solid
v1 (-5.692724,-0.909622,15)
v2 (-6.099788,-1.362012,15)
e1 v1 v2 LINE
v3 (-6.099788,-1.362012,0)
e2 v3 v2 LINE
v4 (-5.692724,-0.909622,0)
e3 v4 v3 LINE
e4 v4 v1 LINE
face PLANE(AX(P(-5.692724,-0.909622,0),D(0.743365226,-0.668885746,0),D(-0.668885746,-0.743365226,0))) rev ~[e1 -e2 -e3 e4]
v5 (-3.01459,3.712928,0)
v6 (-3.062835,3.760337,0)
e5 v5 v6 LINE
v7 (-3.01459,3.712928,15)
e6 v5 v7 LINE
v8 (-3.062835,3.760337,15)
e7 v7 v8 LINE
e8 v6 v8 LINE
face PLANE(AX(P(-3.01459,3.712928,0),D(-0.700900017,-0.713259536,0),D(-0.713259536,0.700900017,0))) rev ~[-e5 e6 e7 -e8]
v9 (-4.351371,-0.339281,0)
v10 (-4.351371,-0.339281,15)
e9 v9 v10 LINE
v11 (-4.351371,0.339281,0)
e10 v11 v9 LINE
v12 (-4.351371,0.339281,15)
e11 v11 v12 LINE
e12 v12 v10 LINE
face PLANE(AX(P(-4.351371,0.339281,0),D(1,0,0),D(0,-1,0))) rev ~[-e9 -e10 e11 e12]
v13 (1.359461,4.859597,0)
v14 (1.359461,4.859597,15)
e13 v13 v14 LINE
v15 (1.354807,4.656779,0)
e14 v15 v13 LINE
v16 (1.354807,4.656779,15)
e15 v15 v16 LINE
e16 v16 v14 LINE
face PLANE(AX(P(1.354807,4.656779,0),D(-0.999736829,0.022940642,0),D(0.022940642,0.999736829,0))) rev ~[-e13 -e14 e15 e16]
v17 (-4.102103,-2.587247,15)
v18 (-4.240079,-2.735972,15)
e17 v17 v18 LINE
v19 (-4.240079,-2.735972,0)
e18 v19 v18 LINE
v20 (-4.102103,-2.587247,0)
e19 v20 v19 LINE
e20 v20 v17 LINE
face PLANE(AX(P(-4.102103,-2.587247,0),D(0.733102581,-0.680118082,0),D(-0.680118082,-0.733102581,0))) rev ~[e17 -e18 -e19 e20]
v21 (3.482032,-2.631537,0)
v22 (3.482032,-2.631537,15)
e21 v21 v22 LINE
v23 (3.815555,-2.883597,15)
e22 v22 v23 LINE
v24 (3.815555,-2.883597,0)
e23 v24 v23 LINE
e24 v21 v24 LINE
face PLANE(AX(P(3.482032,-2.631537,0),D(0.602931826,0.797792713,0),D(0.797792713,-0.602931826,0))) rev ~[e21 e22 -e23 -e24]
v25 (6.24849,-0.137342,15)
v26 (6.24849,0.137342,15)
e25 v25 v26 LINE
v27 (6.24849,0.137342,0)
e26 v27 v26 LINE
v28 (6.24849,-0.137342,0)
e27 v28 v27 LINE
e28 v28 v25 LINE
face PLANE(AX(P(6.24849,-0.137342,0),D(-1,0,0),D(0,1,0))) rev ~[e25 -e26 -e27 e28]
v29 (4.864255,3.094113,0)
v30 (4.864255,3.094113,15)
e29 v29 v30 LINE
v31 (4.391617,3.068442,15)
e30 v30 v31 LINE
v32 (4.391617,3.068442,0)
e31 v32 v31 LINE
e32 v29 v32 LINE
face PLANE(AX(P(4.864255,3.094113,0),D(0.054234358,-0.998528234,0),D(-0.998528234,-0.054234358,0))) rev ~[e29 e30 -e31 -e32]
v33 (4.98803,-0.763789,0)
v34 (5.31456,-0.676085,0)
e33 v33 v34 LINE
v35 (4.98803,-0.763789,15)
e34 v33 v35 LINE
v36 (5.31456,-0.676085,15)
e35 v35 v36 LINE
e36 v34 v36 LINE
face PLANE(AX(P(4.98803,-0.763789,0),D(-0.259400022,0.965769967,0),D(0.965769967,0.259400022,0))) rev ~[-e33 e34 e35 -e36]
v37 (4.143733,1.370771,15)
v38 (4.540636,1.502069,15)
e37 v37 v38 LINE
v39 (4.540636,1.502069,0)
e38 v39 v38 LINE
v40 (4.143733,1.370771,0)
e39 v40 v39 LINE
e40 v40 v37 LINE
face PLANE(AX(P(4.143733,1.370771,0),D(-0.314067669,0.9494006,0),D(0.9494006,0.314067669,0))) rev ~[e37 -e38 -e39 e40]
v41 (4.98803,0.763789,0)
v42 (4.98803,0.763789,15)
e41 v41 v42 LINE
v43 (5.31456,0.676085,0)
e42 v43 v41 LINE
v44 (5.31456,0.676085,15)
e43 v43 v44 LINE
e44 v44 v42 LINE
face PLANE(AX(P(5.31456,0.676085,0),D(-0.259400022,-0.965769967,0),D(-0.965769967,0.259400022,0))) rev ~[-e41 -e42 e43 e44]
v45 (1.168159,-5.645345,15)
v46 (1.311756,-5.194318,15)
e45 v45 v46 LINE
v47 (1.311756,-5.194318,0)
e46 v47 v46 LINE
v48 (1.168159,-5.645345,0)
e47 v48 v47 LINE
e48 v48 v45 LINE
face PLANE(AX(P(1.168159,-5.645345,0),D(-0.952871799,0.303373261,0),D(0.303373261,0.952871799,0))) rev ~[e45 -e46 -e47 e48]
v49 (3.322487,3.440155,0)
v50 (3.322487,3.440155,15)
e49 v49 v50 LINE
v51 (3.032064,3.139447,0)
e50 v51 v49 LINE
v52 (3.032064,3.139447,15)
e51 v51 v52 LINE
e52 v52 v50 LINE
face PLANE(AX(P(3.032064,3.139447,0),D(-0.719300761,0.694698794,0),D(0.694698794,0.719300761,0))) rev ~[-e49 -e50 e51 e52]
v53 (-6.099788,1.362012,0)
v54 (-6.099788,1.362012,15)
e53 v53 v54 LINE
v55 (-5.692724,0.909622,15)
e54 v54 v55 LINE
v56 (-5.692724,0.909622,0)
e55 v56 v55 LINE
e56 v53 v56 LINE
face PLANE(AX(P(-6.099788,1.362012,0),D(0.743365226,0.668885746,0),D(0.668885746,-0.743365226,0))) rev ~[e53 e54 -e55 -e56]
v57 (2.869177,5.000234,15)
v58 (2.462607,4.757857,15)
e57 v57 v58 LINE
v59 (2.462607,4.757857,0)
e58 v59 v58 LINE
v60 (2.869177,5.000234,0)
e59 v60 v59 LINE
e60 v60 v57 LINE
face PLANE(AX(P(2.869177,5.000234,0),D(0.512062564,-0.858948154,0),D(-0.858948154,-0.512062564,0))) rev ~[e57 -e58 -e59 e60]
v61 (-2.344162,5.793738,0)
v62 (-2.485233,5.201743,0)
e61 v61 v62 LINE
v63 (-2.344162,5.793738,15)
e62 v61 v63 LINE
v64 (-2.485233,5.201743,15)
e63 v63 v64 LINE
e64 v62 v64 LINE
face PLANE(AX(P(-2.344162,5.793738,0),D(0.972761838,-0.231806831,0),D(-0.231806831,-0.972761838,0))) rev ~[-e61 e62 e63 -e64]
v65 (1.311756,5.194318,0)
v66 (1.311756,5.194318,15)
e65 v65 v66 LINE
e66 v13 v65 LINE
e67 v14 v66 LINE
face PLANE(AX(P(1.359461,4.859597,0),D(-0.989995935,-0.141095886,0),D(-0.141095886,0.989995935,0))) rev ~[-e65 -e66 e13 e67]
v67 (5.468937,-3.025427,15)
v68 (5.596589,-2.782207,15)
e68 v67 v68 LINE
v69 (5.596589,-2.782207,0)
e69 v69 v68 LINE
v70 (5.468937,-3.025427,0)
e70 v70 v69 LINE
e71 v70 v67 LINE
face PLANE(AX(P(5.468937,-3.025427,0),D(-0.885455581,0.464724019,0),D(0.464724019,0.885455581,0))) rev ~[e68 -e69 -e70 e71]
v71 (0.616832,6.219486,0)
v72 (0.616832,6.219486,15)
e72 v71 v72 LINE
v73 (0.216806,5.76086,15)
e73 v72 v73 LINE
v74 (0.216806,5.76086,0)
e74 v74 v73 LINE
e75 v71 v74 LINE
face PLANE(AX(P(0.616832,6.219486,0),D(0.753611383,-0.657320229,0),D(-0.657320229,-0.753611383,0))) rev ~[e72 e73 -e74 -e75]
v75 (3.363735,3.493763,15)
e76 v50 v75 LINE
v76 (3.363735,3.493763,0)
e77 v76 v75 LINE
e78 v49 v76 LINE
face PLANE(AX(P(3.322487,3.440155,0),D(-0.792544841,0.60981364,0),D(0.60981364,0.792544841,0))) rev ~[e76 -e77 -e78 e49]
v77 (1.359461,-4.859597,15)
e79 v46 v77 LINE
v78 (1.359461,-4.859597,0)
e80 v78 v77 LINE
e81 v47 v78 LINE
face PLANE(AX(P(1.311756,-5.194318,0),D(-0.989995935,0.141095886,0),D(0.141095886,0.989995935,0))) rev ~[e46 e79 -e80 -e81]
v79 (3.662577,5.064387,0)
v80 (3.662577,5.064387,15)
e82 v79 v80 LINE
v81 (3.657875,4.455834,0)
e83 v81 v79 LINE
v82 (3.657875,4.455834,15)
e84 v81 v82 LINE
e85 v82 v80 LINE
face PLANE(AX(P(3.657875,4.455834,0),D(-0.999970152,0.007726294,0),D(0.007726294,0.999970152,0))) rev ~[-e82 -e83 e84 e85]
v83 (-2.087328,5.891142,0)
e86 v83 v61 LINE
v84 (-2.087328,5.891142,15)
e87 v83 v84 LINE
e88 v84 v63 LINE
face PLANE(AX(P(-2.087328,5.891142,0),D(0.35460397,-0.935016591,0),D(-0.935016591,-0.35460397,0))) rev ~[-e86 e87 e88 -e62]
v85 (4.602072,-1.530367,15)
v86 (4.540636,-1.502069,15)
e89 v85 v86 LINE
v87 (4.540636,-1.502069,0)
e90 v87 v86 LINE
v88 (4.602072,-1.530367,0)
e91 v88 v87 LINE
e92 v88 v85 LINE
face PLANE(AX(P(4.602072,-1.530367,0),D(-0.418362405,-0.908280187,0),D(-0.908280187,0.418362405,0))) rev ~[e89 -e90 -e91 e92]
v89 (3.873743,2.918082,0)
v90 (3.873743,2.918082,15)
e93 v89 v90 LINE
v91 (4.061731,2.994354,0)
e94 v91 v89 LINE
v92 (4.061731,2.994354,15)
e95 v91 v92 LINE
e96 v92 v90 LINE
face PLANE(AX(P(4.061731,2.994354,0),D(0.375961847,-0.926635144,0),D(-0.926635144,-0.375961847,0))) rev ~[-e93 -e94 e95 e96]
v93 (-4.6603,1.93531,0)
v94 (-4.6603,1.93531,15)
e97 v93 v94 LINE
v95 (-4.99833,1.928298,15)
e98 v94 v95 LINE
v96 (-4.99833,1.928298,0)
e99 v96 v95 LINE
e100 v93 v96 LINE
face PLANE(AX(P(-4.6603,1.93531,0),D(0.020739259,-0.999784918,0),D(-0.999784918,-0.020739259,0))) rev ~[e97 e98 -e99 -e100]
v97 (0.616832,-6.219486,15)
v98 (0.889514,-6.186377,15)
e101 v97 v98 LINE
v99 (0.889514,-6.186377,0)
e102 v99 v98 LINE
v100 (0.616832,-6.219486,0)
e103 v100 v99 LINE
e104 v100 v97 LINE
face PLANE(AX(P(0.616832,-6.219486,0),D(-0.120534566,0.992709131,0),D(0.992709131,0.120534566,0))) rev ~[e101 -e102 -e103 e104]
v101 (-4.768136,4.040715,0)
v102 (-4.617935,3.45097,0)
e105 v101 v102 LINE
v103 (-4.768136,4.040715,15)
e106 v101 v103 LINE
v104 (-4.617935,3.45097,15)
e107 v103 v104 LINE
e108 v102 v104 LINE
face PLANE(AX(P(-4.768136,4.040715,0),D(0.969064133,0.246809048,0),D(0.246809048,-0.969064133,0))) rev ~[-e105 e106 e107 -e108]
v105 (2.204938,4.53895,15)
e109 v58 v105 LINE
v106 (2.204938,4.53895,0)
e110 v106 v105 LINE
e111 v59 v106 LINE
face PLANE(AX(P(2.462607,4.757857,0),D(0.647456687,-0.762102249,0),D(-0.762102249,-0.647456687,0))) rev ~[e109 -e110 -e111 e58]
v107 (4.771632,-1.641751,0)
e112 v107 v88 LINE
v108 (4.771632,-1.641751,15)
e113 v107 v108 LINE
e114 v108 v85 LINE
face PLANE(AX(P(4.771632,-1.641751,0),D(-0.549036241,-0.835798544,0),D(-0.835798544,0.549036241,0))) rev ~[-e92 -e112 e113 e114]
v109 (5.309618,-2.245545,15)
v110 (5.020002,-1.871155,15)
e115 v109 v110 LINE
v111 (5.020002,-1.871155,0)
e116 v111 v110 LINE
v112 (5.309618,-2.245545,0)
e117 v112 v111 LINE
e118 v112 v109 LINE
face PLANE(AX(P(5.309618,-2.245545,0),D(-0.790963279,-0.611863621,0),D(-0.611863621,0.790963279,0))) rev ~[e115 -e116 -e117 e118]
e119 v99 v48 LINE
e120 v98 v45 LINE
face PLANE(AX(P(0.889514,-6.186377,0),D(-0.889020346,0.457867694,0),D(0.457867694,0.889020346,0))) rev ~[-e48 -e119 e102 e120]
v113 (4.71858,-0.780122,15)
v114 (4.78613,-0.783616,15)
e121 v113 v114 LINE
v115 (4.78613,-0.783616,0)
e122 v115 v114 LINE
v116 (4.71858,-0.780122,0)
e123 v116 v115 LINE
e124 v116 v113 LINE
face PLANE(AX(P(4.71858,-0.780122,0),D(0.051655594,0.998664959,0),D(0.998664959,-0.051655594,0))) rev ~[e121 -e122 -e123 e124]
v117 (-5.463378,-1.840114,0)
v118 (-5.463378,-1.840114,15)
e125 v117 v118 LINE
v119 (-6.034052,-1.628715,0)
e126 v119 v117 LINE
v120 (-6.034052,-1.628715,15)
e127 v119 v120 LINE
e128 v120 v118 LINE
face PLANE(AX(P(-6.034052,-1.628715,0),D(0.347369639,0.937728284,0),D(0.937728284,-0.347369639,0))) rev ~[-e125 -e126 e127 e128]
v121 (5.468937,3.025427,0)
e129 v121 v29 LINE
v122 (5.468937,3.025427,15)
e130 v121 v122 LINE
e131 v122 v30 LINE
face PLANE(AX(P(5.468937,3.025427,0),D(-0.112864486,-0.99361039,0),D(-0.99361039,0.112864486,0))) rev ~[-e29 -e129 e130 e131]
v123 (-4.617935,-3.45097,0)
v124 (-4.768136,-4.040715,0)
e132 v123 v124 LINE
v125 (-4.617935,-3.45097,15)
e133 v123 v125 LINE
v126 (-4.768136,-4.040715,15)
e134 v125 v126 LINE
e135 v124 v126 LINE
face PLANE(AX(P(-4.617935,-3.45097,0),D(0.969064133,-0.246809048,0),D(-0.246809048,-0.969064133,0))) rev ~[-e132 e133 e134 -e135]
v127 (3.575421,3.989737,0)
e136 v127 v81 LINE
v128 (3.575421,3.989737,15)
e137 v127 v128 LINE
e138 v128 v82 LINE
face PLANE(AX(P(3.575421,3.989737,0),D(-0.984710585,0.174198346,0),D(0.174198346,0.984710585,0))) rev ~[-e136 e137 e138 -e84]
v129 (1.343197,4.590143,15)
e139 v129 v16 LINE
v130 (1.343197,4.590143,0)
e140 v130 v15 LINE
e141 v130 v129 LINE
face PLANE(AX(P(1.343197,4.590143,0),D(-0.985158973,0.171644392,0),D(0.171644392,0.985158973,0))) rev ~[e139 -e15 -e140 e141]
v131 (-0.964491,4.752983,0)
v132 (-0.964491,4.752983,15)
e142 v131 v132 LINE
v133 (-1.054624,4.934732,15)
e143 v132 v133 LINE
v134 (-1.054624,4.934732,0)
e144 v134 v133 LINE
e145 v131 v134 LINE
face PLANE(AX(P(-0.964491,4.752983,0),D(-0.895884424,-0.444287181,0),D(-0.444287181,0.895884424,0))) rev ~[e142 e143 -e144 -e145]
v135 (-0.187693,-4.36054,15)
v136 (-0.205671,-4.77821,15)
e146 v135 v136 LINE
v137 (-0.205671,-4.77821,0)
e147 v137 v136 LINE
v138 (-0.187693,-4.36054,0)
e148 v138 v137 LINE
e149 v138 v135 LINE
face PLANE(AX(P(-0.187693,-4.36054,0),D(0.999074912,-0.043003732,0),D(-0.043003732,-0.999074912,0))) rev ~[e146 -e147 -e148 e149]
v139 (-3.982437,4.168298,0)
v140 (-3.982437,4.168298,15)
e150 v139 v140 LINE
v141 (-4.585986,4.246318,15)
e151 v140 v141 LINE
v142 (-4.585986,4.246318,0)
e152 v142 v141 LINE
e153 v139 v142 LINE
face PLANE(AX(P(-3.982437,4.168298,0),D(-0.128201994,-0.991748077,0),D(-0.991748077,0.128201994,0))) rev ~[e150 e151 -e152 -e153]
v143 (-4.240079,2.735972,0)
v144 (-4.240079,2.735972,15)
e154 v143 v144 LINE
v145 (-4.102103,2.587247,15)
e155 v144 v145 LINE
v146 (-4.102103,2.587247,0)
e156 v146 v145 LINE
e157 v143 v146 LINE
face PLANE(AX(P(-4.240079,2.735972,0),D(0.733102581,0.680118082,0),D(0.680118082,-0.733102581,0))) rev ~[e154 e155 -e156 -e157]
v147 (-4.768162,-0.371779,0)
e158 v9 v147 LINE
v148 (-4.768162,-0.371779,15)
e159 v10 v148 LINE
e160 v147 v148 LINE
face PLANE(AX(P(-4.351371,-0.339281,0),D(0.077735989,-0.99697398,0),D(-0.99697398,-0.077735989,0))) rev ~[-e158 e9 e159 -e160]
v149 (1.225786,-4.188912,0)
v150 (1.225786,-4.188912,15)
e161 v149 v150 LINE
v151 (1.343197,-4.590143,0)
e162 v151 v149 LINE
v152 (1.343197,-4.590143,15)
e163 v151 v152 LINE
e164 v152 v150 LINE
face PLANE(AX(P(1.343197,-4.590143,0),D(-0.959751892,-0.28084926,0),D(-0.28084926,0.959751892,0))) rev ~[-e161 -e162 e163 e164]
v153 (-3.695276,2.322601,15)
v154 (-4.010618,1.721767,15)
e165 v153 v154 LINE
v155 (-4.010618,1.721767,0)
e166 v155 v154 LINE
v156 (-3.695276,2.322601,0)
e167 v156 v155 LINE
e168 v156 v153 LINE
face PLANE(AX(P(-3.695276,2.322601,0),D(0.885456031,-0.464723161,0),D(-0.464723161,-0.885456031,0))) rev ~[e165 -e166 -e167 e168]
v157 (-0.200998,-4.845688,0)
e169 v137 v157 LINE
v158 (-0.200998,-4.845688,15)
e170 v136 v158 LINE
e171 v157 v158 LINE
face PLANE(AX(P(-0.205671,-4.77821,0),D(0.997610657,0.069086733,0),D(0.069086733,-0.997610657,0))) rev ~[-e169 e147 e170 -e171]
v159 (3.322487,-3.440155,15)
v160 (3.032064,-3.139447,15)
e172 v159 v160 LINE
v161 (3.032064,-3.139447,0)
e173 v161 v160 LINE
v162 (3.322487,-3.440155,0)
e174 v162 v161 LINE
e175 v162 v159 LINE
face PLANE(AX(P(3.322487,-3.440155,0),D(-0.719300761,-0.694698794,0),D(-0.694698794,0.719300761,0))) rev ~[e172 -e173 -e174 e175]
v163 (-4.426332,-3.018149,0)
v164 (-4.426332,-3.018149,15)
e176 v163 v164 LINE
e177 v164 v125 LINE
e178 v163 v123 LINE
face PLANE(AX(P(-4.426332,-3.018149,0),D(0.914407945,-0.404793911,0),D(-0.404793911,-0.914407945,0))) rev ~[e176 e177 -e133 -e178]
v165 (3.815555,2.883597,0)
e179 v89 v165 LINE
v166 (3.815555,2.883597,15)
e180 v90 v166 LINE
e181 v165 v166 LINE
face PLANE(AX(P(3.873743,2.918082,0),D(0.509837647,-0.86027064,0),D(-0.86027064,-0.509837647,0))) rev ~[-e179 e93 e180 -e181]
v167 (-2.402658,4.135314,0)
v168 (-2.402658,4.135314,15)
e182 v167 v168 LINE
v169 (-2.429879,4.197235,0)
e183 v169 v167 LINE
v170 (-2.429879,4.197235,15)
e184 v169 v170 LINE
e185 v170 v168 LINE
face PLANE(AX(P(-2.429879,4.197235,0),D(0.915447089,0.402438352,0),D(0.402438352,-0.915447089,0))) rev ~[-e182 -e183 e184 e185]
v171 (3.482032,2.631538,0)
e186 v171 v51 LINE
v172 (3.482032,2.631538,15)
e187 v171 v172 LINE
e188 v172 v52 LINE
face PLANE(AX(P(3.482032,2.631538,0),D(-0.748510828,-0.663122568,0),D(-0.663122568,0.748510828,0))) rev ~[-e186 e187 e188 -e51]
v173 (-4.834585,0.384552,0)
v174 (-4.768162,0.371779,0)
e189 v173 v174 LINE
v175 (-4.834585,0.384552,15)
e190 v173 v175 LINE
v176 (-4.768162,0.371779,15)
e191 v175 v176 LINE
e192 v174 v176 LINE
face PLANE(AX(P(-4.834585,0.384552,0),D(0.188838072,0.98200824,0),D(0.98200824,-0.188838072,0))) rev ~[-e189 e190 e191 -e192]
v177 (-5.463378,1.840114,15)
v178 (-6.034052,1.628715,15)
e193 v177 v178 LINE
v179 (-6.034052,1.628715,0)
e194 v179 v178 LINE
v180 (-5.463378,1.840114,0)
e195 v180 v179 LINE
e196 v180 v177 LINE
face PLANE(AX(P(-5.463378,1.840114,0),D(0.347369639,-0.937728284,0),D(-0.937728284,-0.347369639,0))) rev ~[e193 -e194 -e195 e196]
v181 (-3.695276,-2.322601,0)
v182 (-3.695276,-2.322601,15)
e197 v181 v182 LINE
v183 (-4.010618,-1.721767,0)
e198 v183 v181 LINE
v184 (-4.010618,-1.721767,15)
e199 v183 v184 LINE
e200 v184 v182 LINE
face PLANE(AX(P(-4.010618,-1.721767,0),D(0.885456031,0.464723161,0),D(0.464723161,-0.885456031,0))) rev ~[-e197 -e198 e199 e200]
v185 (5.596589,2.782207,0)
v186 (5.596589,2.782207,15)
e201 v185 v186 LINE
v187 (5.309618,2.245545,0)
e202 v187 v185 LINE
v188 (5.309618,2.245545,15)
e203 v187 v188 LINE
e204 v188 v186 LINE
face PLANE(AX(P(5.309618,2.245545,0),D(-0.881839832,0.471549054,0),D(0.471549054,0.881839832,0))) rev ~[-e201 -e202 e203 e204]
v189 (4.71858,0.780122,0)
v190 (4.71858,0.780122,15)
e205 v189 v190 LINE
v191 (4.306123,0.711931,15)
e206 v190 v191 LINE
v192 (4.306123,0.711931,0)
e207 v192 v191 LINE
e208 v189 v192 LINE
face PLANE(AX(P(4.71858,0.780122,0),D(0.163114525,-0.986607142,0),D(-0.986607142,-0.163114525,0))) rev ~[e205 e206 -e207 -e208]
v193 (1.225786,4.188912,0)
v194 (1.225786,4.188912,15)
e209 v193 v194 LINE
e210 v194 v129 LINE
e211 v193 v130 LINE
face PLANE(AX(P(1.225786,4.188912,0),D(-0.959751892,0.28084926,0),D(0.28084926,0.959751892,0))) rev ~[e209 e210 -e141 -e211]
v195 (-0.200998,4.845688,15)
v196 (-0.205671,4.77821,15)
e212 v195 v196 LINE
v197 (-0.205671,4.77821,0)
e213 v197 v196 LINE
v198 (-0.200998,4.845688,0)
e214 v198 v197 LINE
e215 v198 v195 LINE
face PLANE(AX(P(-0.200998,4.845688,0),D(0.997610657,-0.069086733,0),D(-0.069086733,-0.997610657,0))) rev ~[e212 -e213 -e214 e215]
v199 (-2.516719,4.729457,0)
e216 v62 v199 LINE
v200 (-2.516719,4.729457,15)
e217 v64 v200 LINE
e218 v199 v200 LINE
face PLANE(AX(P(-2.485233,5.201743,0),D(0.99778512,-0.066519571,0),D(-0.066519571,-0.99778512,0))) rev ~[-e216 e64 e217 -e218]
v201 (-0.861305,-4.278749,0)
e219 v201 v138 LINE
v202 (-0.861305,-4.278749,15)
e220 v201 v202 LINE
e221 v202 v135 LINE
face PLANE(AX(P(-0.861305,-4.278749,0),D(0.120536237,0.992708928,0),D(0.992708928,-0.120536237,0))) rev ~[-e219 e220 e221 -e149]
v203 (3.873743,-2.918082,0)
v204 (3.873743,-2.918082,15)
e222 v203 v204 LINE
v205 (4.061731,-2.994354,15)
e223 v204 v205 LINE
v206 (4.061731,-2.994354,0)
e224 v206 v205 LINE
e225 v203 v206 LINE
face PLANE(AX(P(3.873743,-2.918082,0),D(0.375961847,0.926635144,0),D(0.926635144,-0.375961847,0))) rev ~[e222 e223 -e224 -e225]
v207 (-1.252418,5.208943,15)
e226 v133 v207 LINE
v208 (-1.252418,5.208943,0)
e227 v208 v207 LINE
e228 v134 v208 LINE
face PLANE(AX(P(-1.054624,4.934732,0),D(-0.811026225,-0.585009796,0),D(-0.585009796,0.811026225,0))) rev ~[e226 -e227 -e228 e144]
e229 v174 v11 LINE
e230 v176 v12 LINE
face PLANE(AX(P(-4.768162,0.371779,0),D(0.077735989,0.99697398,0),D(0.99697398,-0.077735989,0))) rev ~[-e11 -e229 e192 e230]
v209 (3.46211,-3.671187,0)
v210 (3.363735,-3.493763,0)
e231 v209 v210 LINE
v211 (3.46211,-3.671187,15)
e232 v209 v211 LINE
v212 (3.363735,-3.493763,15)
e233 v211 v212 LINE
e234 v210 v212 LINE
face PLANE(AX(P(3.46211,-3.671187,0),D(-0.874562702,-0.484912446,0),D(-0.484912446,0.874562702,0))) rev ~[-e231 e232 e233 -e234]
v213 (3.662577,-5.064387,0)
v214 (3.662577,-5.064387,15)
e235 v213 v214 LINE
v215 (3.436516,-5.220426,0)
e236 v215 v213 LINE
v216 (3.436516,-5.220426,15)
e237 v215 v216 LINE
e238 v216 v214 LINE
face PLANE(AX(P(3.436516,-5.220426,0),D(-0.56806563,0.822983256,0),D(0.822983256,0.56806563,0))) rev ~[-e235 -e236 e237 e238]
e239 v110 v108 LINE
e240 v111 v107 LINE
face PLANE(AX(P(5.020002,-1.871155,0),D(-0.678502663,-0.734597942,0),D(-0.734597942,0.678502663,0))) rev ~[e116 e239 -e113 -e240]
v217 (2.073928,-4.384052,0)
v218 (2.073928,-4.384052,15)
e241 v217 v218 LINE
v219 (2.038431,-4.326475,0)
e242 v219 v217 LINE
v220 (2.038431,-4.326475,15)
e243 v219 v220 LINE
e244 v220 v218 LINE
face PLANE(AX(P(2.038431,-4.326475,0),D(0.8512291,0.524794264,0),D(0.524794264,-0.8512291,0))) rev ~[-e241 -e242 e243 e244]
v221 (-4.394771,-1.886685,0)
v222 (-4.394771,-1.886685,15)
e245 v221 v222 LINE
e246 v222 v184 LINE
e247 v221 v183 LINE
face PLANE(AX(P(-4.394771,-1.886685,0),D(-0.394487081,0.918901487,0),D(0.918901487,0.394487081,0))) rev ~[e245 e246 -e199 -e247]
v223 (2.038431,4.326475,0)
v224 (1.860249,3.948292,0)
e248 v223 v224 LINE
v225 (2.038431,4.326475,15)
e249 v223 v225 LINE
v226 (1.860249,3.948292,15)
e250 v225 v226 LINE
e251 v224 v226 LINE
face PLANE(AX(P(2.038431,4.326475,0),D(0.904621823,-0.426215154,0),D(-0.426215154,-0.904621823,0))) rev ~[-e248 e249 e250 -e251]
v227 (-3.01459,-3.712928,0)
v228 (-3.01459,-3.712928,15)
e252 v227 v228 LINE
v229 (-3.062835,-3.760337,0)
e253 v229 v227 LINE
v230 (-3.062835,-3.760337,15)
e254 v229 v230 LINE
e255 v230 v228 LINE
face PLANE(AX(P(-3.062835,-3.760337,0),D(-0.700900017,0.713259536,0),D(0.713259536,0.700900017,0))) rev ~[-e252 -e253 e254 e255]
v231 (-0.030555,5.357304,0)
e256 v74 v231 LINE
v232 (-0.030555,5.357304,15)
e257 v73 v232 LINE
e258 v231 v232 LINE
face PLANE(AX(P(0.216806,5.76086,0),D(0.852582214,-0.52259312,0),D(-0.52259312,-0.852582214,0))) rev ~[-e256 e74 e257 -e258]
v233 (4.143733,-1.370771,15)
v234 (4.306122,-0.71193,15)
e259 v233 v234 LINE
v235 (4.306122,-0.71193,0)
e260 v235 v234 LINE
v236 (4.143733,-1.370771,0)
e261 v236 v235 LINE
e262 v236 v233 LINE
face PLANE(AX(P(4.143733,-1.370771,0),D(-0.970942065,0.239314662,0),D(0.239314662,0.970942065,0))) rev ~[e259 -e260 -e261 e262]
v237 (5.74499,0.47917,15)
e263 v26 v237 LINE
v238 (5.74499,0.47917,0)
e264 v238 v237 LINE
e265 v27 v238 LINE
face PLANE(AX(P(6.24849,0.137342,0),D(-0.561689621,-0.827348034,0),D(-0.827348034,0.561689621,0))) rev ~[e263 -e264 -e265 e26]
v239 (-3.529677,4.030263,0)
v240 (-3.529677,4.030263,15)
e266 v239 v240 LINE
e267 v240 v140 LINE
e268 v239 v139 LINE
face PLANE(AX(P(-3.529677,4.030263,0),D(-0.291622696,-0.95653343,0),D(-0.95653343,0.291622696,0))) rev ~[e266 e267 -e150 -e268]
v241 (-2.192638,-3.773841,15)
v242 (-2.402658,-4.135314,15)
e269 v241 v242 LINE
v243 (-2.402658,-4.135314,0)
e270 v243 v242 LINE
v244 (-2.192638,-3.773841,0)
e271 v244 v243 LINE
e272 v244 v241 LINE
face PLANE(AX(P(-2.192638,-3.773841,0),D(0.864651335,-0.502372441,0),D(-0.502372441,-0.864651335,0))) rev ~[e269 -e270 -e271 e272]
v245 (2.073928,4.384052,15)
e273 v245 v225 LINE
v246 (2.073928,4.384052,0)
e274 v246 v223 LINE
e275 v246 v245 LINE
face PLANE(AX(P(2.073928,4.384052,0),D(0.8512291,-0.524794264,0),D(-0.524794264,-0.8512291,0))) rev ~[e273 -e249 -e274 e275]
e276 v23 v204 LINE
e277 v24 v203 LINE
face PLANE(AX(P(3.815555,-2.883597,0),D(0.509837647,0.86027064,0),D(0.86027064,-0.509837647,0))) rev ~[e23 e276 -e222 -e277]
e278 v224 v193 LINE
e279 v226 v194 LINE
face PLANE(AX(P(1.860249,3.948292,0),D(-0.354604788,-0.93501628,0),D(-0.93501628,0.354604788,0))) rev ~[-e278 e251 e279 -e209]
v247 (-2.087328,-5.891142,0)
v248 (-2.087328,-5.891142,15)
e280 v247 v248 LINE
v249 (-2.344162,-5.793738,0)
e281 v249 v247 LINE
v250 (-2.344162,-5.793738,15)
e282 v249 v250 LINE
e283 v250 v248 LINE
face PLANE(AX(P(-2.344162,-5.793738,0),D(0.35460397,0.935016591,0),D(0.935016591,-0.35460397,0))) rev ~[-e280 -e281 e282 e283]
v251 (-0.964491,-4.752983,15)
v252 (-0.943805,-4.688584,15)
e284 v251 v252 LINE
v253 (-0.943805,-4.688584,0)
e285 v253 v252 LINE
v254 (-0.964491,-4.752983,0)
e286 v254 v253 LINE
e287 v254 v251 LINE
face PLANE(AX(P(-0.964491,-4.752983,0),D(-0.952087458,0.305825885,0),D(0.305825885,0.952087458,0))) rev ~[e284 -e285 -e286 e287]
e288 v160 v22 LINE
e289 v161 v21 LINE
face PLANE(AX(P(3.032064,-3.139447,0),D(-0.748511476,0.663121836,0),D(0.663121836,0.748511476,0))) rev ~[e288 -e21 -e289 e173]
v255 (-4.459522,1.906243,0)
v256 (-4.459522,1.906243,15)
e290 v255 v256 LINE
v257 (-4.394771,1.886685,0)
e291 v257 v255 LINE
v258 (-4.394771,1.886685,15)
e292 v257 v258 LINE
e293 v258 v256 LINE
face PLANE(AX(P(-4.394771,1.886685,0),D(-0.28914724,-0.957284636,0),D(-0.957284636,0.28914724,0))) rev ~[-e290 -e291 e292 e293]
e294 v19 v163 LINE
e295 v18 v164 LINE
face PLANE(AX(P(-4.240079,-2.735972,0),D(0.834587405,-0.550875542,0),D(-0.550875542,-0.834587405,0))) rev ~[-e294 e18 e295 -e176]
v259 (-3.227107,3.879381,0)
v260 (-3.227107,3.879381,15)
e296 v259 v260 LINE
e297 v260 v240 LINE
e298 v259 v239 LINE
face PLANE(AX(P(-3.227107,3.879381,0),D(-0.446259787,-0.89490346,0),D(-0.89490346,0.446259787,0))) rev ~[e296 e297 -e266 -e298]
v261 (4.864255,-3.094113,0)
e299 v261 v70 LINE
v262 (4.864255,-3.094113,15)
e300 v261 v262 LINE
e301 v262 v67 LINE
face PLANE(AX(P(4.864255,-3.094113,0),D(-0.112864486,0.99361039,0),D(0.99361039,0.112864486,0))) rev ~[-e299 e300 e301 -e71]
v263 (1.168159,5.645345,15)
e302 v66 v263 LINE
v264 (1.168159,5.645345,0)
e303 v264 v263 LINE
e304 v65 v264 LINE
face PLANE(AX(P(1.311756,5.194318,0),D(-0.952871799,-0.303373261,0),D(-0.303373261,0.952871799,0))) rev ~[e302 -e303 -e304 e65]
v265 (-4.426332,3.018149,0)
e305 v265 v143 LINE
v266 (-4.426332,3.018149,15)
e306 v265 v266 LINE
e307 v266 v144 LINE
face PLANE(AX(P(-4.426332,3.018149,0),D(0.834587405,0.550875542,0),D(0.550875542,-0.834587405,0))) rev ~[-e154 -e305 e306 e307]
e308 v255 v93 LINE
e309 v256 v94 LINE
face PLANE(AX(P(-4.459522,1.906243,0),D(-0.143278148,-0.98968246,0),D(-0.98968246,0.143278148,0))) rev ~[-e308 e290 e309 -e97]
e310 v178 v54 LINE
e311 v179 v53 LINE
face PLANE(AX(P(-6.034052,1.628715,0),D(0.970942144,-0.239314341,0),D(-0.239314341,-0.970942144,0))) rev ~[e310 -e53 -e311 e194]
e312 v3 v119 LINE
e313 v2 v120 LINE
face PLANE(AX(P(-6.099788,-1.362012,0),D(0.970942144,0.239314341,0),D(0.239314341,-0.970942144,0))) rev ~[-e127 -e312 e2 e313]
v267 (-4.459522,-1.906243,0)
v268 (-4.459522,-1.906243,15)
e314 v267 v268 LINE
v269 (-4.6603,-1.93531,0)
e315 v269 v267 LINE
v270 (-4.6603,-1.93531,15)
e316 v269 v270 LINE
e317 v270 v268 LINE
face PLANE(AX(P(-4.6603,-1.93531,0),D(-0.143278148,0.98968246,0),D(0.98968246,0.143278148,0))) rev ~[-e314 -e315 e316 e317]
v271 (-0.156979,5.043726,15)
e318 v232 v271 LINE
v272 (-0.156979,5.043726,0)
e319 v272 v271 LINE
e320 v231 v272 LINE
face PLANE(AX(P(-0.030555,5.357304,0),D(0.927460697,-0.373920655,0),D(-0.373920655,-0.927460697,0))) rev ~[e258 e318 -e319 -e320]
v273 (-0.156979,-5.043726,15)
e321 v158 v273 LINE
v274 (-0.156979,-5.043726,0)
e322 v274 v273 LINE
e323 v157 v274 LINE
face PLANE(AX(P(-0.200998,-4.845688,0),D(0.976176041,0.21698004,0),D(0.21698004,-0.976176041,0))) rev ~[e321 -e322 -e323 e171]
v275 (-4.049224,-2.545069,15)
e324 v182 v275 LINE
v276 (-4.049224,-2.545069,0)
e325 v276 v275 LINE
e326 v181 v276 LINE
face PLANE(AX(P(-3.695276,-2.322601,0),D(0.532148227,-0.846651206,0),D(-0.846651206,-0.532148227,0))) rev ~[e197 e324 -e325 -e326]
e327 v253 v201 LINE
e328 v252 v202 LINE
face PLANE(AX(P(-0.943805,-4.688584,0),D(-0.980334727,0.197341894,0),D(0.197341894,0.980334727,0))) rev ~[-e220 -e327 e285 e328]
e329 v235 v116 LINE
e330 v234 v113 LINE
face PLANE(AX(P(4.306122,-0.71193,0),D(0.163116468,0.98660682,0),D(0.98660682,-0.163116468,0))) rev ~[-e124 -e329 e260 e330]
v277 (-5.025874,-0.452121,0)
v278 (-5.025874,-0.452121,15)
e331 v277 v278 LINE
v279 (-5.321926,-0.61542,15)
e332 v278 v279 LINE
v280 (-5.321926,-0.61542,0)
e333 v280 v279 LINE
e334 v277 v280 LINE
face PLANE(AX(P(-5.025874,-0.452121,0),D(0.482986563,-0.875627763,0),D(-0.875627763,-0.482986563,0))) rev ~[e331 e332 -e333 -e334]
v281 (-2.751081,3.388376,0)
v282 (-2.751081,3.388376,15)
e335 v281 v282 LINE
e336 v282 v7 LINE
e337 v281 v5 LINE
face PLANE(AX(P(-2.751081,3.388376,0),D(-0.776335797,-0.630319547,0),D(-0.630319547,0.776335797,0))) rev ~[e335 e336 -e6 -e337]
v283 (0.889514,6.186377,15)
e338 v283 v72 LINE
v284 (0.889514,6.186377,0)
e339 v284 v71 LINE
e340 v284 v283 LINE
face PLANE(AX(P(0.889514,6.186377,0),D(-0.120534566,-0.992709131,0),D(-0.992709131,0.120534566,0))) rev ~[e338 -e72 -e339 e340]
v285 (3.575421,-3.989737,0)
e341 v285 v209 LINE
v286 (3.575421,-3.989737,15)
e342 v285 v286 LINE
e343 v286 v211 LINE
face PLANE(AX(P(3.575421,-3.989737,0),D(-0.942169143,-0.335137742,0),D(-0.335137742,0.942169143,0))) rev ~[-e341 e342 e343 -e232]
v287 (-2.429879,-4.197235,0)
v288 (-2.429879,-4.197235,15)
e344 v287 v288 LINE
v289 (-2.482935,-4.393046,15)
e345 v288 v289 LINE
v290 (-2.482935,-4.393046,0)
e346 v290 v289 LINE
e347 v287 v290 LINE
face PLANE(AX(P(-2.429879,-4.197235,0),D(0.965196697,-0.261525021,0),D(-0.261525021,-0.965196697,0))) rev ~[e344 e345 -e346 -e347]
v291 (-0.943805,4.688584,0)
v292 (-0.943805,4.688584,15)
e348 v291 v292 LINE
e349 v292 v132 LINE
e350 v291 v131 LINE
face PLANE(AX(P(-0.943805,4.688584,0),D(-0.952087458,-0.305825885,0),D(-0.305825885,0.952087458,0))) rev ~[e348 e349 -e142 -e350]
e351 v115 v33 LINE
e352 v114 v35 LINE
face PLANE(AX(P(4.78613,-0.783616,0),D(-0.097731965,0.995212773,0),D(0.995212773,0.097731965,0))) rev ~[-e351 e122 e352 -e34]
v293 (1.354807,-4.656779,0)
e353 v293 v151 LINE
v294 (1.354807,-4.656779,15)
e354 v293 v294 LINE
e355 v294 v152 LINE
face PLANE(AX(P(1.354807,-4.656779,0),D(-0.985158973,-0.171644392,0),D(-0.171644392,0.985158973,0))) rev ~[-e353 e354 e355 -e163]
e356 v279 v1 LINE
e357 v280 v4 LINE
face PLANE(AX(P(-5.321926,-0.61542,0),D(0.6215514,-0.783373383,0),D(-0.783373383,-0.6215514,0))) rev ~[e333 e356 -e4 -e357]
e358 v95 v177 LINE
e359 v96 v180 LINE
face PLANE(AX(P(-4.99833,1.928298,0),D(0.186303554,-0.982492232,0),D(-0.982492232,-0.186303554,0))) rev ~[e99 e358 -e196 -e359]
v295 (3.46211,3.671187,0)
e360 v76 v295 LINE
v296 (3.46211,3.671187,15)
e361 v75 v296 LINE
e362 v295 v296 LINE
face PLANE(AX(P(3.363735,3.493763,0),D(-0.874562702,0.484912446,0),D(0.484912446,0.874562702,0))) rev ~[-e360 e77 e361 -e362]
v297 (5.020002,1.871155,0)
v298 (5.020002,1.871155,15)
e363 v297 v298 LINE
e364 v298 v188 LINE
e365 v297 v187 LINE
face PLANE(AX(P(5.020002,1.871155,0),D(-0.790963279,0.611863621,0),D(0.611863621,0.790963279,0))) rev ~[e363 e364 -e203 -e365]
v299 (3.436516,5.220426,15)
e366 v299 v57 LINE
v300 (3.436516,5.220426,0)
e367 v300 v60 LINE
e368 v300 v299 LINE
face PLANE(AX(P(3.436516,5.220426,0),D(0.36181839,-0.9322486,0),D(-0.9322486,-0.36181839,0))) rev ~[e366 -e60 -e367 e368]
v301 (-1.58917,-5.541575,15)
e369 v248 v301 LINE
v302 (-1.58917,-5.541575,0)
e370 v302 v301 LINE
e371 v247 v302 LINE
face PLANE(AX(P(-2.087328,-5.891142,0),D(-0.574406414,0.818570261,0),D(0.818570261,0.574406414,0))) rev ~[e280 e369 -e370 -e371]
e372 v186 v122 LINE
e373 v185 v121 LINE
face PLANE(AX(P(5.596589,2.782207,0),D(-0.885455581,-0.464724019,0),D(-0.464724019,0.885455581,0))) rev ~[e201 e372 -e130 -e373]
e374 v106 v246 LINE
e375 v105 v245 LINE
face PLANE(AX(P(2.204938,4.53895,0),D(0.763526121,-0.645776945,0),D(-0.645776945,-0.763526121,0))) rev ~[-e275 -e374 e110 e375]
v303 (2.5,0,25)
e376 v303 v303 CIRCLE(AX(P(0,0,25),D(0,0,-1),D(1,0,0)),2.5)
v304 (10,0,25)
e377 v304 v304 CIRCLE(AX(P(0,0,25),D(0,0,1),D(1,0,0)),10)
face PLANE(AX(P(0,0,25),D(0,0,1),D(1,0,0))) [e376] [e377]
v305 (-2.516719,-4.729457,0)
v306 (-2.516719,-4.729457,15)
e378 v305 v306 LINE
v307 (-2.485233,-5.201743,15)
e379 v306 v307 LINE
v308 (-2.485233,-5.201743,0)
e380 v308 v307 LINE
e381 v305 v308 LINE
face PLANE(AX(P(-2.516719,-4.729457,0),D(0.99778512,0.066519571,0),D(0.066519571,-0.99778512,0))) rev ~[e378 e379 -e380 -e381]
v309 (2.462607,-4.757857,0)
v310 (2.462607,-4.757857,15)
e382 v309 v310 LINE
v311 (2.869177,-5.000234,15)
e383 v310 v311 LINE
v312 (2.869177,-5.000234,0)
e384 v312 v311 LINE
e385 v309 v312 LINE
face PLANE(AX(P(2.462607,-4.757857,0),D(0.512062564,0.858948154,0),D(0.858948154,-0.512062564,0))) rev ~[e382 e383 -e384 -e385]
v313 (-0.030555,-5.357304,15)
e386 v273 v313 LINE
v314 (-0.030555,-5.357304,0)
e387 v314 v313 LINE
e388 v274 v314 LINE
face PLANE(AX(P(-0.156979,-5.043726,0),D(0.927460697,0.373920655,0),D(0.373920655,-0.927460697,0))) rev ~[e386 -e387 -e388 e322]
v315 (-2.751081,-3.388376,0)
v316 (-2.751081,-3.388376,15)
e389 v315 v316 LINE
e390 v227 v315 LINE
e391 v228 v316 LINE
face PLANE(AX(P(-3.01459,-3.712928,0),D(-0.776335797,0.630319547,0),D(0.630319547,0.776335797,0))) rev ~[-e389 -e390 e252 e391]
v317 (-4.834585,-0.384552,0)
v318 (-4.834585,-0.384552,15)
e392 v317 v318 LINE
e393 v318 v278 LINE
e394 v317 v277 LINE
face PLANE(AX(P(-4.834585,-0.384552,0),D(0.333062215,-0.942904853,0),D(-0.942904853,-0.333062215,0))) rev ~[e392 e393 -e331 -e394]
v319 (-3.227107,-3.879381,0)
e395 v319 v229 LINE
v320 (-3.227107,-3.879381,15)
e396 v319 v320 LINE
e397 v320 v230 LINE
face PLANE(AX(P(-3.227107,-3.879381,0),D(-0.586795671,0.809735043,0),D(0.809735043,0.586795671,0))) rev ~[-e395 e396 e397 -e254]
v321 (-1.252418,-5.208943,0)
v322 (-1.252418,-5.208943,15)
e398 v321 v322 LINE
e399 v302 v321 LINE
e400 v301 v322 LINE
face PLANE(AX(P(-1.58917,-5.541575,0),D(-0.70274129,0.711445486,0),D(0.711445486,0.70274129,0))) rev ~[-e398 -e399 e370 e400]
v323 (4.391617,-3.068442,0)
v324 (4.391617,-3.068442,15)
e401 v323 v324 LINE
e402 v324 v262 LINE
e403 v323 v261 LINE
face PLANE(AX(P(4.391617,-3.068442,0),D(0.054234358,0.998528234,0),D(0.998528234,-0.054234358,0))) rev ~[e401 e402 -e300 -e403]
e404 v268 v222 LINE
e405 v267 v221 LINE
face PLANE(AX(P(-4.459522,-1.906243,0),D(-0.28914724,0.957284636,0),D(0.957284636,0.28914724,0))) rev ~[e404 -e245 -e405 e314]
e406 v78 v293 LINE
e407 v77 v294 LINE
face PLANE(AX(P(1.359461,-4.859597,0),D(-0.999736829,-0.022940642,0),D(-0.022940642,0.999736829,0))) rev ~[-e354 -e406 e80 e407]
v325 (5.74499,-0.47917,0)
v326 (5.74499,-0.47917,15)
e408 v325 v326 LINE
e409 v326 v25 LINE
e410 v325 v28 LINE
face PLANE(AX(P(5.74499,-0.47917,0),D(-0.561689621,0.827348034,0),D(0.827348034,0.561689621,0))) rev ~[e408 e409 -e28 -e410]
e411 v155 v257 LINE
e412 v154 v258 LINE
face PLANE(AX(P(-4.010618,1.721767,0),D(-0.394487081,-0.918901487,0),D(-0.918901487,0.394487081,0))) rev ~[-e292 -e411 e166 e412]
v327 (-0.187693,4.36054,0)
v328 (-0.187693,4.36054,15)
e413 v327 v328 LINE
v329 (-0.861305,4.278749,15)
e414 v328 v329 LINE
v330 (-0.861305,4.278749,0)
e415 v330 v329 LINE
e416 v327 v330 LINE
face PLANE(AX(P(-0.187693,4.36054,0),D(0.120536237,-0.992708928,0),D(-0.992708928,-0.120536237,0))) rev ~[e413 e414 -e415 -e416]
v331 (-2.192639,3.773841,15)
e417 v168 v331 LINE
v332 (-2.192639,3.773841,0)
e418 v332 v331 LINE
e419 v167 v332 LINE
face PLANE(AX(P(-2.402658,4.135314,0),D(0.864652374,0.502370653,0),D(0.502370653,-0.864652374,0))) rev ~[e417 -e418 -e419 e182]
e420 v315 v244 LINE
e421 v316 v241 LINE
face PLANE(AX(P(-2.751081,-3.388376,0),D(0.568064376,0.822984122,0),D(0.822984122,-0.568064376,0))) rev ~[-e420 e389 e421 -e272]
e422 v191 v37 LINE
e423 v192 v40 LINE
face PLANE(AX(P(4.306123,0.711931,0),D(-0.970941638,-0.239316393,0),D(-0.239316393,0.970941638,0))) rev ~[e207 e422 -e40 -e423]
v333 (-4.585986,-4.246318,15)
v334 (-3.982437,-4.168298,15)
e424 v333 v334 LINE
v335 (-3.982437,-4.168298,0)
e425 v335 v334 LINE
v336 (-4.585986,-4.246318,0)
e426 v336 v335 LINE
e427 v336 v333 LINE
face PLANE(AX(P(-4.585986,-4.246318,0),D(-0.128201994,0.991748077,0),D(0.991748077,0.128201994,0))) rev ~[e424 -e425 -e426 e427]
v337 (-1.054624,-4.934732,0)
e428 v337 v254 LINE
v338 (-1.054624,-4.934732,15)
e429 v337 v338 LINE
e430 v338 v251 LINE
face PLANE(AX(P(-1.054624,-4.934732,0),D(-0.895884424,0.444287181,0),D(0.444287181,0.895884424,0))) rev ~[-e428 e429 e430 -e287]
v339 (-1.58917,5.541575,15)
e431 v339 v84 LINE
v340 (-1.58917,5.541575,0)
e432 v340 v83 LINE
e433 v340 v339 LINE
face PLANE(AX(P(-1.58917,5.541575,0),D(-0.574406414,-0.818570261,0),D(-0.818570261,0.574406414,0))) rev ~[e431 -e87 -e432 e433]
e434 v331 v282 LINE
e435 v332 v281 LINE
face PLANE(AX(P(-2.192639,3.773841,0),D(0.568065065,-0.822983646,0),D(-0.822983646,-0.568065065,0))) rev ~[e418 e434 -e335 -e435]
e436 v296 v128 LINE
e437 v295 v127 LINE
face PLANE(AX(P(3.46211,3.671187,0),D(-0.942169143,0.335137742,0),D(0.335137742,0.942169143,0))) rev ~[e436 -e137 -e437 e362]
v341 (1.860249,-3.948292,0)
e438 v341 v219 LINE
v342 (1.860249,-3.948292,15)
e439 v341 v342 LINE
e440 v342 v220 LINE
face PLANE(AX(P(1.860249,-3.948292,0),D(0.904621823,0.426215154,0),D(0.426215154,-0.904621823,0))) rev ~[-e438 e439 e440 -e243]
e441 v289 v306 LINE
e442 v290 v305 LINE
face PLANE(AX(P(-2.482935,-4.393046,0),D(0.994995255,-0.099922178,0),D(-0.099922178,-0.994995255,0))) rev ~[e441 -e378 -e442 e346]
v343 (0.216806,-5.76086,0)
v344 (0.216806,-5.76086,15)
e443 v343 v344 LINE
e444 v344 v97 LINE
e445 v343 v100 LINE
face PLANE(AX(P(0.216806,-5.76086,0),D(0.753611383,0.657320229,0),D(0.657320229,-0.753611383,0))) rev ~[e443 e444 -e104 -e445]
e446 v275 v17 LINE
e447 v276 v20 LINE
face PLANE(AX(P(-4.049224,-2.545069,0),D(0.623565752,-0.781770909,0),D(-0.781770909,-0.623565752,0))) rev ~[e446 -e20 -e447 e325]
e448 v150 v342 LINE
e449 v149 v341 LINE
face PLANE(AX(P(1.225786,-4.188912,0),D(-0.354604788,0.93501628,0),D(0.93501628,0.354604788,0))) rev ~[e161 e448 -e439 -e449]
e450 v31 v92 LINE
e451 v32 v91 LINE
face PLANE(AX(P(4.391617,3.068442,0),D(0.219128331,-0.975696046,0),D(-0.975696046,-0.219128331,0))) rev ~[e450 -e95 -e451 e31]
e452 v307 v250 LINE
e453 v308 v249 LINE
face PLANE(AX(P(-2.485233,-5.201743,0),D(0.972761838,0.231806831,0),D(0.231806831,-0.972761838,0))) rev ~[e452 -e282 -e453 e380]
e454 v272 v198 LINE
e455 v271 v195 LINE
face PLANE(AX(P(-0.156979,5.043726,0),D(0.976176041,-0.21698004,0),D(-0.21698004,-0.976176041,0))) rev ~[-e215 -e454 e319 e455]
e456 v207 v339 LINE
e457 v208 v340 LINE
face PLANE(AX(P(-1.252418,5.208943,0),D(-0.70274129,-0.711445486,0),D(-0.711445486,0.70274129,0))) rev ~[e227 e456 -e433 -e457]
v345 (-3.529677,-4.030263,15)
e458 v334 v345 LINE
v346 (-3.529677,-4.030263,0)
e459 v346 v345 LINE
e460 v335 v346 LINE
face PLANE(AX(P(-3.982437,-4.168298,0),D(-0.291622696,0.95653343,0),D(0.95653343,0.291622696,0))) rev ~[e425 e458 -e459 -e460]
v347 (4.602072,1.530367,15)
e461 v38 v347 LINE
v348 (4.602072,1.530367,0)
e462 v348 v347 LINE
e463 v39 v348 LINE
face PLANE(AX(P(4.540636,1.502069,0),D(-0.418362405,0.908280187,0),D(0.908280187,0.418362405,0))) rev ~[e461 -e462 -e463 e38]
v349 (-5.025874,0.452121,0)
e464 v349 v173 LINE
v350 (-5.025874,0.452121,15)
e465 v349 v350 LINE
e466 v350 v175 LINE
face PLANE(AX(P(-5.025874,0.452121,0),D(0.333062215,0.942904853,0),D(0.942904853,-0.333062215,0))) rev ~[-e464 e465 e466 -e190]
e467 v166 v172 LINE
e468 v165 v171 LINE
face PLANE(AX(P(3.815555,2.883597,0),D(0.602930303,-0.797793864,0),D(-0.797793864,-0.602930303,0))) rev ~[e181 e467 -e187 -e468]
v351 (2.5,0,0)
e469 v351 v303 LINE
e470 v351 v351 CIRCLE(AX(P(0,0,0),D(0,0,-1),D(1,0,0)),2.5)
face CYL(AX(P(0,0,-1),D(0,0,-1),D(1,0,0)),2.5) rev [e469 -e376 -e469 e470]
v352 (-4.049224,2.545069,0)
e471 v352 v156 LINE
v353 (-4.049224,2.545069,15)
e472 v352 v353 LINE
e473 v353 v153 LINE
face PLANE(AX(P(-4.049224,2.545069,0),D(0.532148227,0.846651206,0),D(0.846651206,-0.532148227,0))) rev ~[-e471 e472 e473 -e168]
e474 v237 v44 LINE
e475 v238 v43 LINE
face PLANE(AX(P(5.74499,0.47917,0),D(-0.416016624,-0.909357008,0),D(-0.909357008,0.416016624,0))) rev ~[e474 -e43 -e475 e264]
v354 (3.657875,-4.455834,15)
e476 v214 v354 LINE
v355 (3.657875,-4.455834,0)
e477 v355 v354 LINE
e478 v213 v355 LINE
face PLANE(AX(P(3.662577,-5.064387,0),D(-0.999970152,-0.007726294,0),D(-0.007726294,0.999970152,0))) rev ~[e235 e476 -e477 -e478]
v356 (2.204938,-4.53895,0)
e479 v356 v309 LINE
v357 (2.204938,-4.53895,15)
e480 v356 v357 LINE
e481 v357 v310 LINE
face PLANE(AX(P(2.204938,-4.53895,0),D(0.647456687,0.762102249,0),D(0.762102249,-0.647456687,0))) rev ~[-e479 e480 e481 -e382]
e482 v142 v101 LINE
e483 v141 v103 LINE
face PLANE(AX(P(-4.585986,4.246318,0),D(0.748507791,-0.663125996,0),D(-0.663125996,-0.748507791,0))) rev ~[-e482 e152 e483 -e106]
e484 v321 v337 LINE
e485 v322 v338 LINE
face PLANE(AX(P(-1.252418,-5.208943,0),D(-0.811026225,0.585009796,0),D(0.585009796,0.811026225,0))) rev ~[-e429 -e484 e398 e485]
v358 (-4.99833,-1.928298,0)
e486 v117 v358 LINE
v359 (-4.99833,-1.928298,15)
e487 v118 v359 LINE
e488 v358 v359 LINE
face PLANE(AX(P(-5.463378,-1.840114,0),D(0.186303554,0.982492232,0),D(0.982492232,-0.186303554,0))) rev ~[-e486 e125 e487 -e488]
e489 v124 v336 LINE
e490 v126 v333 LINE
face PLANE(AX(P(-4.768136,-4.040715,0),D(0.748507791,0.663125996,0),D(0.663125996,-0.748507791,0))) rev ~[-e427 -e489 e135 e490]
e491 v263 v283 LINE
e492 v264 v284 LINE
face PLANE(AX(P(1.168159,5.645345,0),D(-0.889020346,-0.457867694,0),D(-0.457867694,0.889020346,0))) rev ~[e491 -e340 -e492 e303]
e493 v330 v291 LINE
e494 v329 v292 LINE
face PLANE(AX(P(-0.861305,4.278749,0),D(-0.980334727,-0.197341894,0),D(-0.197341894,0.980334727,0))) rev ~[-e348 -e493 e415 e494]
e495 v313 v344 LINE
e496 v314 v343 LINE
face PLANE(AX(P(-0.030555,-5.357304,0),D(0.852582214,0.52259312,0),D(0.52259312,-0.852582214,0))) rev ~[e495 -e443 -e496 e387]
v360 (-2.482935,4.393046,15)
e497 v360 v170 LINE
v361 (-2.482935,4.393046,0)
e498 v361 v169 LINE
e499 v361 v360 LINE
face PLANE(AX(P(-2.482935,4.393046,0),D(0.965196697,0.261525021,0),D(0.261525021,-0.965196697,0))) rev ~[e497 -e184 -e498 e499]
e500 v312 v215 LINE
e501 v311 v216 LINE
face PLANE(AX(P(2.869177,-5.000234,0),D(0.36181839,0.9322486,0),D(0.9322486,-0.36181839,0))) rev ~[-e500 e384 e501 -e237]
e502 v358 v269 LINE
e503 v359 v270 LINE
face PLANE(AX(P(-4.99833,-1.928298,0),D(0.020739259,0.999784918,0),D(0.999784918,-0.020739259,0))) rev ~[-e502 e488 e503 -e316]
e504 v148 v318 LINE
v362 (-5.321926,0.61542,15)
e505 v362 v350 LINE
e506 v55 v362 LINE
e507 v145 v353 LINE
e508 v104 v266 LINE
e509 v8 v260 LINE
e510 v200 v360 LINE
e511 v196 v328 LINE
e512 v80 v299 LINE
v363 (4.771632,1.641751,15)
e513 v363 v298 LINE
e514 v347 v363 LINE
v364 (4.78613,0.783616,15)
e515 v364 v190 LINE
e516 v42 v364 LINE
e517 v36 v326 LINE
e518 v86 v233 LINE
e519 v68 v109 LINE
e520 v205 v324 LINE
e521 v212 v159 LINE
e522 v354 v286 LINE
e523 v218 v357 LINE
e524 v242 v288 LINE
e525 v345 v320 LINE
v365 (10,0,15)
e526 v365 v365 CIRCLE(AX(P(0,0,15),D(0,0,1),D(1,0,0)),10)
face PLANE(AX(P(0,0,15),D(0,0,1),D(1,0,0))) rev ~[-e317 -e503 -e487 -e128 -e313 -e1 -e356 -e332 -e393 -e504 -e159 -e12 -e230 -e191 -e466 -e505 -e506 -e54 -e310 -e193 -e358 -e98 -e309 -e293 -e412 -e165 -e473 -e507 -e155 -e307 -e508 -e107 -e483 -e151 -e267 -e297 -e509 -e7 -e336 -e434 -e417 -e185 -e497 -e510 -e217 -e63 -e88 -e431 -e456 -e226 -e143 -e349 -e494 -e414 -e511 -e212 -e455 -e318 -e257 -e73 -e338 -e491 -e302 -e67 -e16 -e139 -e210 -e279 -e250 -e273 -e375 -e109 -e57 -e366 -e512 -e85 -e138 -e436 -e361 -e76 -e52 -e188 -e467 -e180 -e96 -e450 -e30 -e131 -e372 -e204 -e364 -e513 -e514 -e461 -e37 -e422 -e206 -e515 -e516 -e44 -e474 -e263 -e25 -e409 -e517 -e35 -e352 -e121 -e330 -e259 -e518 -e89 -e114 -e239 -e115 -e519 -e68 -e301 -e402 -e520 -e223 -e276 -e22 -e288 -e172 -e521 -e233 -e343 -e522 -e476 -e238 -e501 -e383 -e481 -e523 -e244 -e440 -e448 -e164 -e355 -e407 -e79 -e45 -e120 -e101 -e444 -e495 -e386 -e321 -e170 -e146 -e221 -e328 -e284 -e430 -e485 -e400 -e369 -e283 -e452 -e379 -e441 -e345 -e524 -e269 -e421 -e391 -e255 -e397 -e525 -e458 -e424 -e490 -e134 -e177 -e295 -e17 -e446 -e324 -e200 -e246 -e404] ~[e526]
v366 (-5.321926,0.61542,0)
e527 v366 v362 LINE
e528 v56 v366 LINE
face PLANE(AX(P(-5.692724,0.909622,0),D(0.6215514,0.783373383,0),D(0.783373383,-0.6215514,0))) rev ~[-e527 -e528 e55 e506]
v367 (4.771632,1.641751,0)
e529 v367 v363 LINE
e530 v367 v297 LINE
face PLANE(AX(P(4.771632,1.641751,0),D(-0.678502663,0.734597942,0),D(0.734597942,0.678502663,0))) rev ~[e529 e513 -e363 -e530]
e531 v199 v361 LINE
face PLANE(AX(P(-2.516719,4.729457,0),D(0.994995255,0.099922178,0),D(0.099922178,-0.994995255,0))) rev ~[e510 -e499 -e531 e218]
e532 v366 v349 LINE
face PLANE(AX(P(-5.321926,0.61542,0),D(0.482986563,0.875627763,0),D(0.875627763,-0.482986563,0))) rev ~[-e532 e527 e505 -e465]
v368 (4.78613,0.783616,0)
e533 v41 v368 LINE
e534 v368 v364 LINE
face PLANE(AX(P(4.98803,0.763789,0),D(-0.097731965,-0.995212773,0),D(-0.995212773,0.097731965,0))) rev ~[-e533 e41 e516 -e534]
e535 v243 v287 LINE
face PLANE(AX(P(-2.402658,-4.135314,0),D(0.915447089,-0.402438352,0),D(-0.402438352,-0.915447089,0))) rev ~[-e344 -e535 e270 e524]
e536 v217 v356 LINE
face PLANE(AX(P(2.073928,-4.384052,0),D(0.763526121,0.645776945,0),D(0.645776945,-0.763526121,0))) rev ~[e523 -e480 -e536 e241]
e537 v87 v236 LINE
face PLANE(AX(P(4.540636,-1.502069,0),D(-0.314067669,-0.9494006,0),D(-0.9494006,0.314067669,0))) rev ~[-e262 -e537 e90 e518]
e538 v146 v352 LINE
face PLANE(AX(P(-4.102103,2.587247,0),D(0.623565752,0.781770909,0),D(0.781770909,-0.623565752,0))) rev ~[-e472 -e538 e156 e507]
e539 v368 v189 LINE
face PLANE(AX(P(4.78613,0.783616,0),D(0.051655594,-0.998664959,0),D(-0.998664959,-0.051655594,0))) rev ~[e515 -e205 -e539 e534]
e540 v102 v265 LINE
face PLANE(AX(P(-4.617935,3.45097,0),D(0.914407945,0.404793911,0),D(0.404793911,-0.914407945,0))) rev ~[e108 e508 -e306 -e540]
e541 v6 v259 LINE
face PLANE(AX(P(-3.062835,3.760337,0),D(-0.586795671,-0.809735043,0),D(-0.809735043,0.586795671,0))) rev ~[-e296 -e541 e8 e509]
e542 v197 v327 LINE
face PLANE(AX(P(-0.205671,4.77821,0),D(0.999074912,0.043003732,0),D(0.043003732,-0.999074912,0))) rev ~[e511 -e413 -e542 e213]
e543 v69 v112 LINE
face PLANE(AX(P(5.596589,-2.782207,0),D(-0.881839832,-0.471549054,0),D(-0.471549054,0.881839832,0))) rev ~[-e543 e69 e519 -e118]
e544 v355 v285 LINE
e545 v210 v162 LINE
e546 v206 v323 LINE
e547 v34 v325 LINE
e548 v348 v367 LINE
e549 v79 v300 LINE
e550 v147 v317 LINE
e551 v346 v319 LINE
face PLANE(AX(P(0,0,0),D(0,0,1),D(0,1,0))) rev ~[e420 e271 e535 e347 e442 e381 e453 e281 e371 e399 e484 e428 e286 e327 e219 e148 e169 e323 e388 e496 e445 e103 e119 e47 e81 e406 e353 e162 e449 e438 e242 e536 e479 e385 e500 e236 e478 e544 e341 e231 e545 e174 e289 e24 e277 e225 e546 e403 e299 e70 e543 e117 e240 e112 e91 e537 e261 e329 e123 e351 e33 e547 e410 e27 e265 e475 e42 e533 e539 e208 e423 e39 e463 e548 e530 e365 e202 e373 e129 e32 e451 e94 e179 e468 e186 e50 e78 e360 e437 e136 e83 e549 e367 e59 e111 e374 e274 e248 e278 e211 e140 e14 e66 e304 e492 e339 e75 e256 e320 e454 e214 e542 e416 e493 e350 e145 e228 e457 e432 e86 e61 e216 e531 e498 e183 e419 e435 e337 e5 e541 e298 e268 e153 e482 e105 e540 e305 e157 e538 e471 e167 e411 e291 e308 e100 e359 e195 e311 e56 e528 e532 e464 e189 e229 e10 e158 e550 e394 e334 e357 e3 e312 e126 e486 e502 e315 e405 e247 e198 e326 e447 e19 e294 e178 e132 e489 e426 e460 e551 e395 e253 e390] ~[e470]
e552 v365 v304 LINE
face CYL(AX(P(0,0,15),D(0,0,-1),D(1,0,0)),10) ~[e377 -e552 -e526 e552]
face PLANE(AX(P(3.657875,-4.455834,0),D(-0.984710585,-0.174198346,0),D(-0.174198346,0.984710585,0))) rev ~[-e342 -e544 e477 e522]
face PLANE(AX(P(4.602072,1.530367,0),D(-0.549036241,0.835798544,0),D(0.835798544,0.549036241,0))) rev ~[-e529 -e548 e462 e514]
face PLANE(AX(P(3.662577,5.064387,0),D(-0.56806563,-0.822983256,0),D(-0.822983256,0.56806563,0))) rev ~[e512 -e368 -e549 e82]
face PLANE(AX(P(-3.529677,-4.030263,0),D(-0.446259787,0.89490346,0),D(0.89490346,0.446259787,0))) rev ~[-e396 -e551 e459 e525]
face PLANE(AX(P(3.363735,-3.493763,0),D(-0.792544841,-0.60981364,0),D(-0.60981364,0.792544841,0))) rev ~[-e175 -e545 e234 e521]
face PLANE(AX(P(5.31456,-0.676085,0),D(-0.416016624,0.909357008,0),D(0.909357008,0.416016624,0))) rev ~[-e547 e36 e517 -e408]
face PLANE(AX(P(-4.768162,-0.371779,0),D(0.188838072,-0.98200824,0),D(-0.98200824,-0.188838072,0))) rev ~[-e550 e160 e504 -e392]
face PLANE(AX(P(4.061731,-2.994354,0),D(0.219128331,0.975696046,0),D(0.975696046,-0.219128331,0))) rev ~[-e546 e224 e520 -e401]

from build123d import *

# Parameters (mm, degrees)
CYLINDER005_R          = 2.5
CYLINDER005_DEPTH      = 27
CYLINDER004_R          = 10
CYLINDER004_DEPTH      = 10
LINEAREXTRUDE003_DEPTH = 15


with BuildPart() as cylinder005:
    # cylinder005 → cylinder005 (new body)
    with BuildSketch(Plane.XY.offset(-1)):
        Circle(CYLINDER005_R)
    extrude(amount=CYLINDER005_DEPTH)


with BuildPart() as cylinder004:
    # cylinder004 → cylinder004 (new body)
    with BuildSketch(Plane.XY.offset(15)):
        Circle(CYLINDER004_R)
    extrude(amount=CYLINDER004_DEPTH)


with BuildPart() as pinion:
    # union004 → LinearExtrude003 (new body)
    with BuildSketch(Plane(origin=(0, 0, 0), x_dir=(0, 1, 0), z_dir=(0, 0, 1))):
        Polygon((0.711931, -4.306123), (1.370771, -4.143733), (1.502069, -4.540636), (1.530367, -4.602072), (1.641751, -4.771632), (1.871155, -5.020002), (2.245545, -5.309618), (2.782207, -5.596589), (3.025427, -5.468937), (3.094113, -4.864255), (3.068442, -4.391617), (2.994354, -4.061731), (2.918082, -3.873743), (2.883597, -3.815555), (2.631538, -3.482032), (3.139447, -3.032064), (3.440155, -3.322487), (3.493763, -3.363735), (3.671187, -3.46211), (3.989737, -3.575421), (4.455834, -3.657875), (5.064387, -3.662577), (5.220426, -3.436516), (5.000234, -2.869177), (4.757857, -2.462607), (4.53895, -2.204938), (4.384052, -2.073928), (4.326475, -2.038431), (3.948292, -1.860249), (4.188912, -1.225786), (4.590143, -1.343197), (4.656779, -1.354807), (4.859597, -1.359461), (5.194318, -1.311756), (5.645345, -1.168159), (6.186377, -0.889514), (6.219486, -0.616832), (5.76086, -0.216806), (5.357304, 0.030555), (5.043726, 0.156979), (4.845688, 0.200998), (4.77821, 0.205671), (4.36054, 0.187693), (4.278749, 0.861305), (4.688584, 0.943805), (4.752983, 0.964491), (4.934732, 1.054624), (5.208943, 1.252418), (5.541575, 1.58917), (5.891142, 2.087328), (5.793738, 2.344162), (5.201743, 2.485233), (4.729457, 2.516719), (4.393046, 2.482935), (4.197235, 2.429879), (4.135314, 2.402658), (3.773841, 2.192639), (3.388376, 2.751081), (3.712928, 3.01459), (3.760337, 3.062835), (3.879381, 3.227107), (4.030263, 3.529677), (4.168298, 3.982437), (4.246318, 4.585986), (4.040715, 4.768136), (3.45097, 4.617935), (3.018149, 4.426332), (2.735972, 4.240079), (2.587247, 4.102103), (2.545069, 4.049224), (2.322601, 3.695276), (1.721767, 4.010618), (1.886685, 4.394771), (1.906243, 4.459522), (1.93531, 4.6603), (1.928298, 4.99833), (1.840114, 5.463378), (1.628715, 6.034052), (1.362012, 6.099788), (0.909622, 5.692724), (0.61542, 5.321926), (0.452121, 5.025874), (0.384552, 4.834585), (0.371779, 4.768162), (0.339281, 4.351371), (-0.339281, 4.351371), (-0.371779, 4.768162), (-0.384552, 4.834585), (-0.452121, 5.025874), (-0.61542, 5.321926), (-0.909622, 5.692724), (-1.362012, 6.099788), (-1.628715, 6.034052), (-1.840114, 5.463378), (-1.928298, 4.99833), (-1.93531, 4.6603), (-1.906243, 4.459522), (-1.886685, 4.394771), (-1.721767, 4.010618), (-2.322601, 3.695276), (-2.545069, 4.049224), (-2.587247, 4.102103), (-2.735972, 4.240079), (-3.018149, 4.426332), (-3.45097, 4.617935), (-4.040715, 4.768136), (-4.246318, 4.585986), (-4.168298, 3.982437), (-4.030263, 3.529677), (-3.879381, 3.227107), (-3.760337, 3.062835), (-3.712928, 3.01459), (-3.388376, 2.751081), (-3.773841, 2.192638), (-4.135314, 2.402658), (-4.197235, 2.429879), (-4.393046, 2.482935), (-4.729457, 2.516719), (-5.201743, 2.485233), (-5.793738, 2.344162), (-5.891142, 2.087328), (-5.541575, 1.58917), (-5.208943, 1.252418), (-4.934732, 1.054624), (-4.752983, 0.964491), (-4.688584, 0.943805), (-4.278749, 0.861305), (-4.36054, 0.187693), (-4.77821, 0.205671), (-4.845688, 0.200998), (-5.043726, 0.156979), (-5.357304, 0.030555), (-5.76086, -0.216806), (-6.219486, -0.616832), (-6.186377, -0.889514), (-5.645345, -1.168159), (-5.194318, -1.311756), (-4.859597, -1.359461), (-4.656779, -1.354807), (-4.590143, -1.343197), (-4.188912, -1.225786), (-3.948292, -1.860249), (-4.326475, -2.038431), (-4.384052, -2.073928), (-4.53895, -2.204938), (-4.757857, -2.462607), (-5.000234, -2.869177), (-5.220426, -3.436516), (-5.064387, -3.662577), (-4.455834, -3.657875), (-3.989737, -3.575421), (-3.671187, -3.46211), (-3.493763, -3.363735), (-3.440155, -3.322487), (-3.139447, -3.032064), (-2.631537, -3.482032), (-2.883597, -3.815555), (-2.918082, -3.873743), (-2.994354, -4.061731), (-3.068442, -4.391617), (-3.094113, -4.864255), (-3.025427, -5.468937), (-2.782207, -5.596589), (-2.245545, -5.309618), (-1.871155, -5.020002), (-1.641751, -4.771632), (-1.530367, -4.602072), (-1.502069, -4.540636), (-1.370771, -4.143733), (-0.71193, -4.306122), (-0.780122, -4.71858), (-0.783616, -4.78613), (-0.763789, -4.98803), (-0.676085, -5.31456), (-0.47917, -5.74499), (-0.137342, -6.24849), (0.137342, -6.24849), (0.47917, -5.74499), (0.676085, -5.31456), (0.763789, -4.98803), (0.783616, -4.78613), (0.780122, -4.71858), align=None)
    extrude(amount=LINEAREXTRUDE003_DEPTH)

    # union005: union cylinder004
    add(cylinder004.part)

    # difference004: cut cylinder005
    add(cylinder005.part, mode=Mode.SUBTRACT)


solid = pinion.part
